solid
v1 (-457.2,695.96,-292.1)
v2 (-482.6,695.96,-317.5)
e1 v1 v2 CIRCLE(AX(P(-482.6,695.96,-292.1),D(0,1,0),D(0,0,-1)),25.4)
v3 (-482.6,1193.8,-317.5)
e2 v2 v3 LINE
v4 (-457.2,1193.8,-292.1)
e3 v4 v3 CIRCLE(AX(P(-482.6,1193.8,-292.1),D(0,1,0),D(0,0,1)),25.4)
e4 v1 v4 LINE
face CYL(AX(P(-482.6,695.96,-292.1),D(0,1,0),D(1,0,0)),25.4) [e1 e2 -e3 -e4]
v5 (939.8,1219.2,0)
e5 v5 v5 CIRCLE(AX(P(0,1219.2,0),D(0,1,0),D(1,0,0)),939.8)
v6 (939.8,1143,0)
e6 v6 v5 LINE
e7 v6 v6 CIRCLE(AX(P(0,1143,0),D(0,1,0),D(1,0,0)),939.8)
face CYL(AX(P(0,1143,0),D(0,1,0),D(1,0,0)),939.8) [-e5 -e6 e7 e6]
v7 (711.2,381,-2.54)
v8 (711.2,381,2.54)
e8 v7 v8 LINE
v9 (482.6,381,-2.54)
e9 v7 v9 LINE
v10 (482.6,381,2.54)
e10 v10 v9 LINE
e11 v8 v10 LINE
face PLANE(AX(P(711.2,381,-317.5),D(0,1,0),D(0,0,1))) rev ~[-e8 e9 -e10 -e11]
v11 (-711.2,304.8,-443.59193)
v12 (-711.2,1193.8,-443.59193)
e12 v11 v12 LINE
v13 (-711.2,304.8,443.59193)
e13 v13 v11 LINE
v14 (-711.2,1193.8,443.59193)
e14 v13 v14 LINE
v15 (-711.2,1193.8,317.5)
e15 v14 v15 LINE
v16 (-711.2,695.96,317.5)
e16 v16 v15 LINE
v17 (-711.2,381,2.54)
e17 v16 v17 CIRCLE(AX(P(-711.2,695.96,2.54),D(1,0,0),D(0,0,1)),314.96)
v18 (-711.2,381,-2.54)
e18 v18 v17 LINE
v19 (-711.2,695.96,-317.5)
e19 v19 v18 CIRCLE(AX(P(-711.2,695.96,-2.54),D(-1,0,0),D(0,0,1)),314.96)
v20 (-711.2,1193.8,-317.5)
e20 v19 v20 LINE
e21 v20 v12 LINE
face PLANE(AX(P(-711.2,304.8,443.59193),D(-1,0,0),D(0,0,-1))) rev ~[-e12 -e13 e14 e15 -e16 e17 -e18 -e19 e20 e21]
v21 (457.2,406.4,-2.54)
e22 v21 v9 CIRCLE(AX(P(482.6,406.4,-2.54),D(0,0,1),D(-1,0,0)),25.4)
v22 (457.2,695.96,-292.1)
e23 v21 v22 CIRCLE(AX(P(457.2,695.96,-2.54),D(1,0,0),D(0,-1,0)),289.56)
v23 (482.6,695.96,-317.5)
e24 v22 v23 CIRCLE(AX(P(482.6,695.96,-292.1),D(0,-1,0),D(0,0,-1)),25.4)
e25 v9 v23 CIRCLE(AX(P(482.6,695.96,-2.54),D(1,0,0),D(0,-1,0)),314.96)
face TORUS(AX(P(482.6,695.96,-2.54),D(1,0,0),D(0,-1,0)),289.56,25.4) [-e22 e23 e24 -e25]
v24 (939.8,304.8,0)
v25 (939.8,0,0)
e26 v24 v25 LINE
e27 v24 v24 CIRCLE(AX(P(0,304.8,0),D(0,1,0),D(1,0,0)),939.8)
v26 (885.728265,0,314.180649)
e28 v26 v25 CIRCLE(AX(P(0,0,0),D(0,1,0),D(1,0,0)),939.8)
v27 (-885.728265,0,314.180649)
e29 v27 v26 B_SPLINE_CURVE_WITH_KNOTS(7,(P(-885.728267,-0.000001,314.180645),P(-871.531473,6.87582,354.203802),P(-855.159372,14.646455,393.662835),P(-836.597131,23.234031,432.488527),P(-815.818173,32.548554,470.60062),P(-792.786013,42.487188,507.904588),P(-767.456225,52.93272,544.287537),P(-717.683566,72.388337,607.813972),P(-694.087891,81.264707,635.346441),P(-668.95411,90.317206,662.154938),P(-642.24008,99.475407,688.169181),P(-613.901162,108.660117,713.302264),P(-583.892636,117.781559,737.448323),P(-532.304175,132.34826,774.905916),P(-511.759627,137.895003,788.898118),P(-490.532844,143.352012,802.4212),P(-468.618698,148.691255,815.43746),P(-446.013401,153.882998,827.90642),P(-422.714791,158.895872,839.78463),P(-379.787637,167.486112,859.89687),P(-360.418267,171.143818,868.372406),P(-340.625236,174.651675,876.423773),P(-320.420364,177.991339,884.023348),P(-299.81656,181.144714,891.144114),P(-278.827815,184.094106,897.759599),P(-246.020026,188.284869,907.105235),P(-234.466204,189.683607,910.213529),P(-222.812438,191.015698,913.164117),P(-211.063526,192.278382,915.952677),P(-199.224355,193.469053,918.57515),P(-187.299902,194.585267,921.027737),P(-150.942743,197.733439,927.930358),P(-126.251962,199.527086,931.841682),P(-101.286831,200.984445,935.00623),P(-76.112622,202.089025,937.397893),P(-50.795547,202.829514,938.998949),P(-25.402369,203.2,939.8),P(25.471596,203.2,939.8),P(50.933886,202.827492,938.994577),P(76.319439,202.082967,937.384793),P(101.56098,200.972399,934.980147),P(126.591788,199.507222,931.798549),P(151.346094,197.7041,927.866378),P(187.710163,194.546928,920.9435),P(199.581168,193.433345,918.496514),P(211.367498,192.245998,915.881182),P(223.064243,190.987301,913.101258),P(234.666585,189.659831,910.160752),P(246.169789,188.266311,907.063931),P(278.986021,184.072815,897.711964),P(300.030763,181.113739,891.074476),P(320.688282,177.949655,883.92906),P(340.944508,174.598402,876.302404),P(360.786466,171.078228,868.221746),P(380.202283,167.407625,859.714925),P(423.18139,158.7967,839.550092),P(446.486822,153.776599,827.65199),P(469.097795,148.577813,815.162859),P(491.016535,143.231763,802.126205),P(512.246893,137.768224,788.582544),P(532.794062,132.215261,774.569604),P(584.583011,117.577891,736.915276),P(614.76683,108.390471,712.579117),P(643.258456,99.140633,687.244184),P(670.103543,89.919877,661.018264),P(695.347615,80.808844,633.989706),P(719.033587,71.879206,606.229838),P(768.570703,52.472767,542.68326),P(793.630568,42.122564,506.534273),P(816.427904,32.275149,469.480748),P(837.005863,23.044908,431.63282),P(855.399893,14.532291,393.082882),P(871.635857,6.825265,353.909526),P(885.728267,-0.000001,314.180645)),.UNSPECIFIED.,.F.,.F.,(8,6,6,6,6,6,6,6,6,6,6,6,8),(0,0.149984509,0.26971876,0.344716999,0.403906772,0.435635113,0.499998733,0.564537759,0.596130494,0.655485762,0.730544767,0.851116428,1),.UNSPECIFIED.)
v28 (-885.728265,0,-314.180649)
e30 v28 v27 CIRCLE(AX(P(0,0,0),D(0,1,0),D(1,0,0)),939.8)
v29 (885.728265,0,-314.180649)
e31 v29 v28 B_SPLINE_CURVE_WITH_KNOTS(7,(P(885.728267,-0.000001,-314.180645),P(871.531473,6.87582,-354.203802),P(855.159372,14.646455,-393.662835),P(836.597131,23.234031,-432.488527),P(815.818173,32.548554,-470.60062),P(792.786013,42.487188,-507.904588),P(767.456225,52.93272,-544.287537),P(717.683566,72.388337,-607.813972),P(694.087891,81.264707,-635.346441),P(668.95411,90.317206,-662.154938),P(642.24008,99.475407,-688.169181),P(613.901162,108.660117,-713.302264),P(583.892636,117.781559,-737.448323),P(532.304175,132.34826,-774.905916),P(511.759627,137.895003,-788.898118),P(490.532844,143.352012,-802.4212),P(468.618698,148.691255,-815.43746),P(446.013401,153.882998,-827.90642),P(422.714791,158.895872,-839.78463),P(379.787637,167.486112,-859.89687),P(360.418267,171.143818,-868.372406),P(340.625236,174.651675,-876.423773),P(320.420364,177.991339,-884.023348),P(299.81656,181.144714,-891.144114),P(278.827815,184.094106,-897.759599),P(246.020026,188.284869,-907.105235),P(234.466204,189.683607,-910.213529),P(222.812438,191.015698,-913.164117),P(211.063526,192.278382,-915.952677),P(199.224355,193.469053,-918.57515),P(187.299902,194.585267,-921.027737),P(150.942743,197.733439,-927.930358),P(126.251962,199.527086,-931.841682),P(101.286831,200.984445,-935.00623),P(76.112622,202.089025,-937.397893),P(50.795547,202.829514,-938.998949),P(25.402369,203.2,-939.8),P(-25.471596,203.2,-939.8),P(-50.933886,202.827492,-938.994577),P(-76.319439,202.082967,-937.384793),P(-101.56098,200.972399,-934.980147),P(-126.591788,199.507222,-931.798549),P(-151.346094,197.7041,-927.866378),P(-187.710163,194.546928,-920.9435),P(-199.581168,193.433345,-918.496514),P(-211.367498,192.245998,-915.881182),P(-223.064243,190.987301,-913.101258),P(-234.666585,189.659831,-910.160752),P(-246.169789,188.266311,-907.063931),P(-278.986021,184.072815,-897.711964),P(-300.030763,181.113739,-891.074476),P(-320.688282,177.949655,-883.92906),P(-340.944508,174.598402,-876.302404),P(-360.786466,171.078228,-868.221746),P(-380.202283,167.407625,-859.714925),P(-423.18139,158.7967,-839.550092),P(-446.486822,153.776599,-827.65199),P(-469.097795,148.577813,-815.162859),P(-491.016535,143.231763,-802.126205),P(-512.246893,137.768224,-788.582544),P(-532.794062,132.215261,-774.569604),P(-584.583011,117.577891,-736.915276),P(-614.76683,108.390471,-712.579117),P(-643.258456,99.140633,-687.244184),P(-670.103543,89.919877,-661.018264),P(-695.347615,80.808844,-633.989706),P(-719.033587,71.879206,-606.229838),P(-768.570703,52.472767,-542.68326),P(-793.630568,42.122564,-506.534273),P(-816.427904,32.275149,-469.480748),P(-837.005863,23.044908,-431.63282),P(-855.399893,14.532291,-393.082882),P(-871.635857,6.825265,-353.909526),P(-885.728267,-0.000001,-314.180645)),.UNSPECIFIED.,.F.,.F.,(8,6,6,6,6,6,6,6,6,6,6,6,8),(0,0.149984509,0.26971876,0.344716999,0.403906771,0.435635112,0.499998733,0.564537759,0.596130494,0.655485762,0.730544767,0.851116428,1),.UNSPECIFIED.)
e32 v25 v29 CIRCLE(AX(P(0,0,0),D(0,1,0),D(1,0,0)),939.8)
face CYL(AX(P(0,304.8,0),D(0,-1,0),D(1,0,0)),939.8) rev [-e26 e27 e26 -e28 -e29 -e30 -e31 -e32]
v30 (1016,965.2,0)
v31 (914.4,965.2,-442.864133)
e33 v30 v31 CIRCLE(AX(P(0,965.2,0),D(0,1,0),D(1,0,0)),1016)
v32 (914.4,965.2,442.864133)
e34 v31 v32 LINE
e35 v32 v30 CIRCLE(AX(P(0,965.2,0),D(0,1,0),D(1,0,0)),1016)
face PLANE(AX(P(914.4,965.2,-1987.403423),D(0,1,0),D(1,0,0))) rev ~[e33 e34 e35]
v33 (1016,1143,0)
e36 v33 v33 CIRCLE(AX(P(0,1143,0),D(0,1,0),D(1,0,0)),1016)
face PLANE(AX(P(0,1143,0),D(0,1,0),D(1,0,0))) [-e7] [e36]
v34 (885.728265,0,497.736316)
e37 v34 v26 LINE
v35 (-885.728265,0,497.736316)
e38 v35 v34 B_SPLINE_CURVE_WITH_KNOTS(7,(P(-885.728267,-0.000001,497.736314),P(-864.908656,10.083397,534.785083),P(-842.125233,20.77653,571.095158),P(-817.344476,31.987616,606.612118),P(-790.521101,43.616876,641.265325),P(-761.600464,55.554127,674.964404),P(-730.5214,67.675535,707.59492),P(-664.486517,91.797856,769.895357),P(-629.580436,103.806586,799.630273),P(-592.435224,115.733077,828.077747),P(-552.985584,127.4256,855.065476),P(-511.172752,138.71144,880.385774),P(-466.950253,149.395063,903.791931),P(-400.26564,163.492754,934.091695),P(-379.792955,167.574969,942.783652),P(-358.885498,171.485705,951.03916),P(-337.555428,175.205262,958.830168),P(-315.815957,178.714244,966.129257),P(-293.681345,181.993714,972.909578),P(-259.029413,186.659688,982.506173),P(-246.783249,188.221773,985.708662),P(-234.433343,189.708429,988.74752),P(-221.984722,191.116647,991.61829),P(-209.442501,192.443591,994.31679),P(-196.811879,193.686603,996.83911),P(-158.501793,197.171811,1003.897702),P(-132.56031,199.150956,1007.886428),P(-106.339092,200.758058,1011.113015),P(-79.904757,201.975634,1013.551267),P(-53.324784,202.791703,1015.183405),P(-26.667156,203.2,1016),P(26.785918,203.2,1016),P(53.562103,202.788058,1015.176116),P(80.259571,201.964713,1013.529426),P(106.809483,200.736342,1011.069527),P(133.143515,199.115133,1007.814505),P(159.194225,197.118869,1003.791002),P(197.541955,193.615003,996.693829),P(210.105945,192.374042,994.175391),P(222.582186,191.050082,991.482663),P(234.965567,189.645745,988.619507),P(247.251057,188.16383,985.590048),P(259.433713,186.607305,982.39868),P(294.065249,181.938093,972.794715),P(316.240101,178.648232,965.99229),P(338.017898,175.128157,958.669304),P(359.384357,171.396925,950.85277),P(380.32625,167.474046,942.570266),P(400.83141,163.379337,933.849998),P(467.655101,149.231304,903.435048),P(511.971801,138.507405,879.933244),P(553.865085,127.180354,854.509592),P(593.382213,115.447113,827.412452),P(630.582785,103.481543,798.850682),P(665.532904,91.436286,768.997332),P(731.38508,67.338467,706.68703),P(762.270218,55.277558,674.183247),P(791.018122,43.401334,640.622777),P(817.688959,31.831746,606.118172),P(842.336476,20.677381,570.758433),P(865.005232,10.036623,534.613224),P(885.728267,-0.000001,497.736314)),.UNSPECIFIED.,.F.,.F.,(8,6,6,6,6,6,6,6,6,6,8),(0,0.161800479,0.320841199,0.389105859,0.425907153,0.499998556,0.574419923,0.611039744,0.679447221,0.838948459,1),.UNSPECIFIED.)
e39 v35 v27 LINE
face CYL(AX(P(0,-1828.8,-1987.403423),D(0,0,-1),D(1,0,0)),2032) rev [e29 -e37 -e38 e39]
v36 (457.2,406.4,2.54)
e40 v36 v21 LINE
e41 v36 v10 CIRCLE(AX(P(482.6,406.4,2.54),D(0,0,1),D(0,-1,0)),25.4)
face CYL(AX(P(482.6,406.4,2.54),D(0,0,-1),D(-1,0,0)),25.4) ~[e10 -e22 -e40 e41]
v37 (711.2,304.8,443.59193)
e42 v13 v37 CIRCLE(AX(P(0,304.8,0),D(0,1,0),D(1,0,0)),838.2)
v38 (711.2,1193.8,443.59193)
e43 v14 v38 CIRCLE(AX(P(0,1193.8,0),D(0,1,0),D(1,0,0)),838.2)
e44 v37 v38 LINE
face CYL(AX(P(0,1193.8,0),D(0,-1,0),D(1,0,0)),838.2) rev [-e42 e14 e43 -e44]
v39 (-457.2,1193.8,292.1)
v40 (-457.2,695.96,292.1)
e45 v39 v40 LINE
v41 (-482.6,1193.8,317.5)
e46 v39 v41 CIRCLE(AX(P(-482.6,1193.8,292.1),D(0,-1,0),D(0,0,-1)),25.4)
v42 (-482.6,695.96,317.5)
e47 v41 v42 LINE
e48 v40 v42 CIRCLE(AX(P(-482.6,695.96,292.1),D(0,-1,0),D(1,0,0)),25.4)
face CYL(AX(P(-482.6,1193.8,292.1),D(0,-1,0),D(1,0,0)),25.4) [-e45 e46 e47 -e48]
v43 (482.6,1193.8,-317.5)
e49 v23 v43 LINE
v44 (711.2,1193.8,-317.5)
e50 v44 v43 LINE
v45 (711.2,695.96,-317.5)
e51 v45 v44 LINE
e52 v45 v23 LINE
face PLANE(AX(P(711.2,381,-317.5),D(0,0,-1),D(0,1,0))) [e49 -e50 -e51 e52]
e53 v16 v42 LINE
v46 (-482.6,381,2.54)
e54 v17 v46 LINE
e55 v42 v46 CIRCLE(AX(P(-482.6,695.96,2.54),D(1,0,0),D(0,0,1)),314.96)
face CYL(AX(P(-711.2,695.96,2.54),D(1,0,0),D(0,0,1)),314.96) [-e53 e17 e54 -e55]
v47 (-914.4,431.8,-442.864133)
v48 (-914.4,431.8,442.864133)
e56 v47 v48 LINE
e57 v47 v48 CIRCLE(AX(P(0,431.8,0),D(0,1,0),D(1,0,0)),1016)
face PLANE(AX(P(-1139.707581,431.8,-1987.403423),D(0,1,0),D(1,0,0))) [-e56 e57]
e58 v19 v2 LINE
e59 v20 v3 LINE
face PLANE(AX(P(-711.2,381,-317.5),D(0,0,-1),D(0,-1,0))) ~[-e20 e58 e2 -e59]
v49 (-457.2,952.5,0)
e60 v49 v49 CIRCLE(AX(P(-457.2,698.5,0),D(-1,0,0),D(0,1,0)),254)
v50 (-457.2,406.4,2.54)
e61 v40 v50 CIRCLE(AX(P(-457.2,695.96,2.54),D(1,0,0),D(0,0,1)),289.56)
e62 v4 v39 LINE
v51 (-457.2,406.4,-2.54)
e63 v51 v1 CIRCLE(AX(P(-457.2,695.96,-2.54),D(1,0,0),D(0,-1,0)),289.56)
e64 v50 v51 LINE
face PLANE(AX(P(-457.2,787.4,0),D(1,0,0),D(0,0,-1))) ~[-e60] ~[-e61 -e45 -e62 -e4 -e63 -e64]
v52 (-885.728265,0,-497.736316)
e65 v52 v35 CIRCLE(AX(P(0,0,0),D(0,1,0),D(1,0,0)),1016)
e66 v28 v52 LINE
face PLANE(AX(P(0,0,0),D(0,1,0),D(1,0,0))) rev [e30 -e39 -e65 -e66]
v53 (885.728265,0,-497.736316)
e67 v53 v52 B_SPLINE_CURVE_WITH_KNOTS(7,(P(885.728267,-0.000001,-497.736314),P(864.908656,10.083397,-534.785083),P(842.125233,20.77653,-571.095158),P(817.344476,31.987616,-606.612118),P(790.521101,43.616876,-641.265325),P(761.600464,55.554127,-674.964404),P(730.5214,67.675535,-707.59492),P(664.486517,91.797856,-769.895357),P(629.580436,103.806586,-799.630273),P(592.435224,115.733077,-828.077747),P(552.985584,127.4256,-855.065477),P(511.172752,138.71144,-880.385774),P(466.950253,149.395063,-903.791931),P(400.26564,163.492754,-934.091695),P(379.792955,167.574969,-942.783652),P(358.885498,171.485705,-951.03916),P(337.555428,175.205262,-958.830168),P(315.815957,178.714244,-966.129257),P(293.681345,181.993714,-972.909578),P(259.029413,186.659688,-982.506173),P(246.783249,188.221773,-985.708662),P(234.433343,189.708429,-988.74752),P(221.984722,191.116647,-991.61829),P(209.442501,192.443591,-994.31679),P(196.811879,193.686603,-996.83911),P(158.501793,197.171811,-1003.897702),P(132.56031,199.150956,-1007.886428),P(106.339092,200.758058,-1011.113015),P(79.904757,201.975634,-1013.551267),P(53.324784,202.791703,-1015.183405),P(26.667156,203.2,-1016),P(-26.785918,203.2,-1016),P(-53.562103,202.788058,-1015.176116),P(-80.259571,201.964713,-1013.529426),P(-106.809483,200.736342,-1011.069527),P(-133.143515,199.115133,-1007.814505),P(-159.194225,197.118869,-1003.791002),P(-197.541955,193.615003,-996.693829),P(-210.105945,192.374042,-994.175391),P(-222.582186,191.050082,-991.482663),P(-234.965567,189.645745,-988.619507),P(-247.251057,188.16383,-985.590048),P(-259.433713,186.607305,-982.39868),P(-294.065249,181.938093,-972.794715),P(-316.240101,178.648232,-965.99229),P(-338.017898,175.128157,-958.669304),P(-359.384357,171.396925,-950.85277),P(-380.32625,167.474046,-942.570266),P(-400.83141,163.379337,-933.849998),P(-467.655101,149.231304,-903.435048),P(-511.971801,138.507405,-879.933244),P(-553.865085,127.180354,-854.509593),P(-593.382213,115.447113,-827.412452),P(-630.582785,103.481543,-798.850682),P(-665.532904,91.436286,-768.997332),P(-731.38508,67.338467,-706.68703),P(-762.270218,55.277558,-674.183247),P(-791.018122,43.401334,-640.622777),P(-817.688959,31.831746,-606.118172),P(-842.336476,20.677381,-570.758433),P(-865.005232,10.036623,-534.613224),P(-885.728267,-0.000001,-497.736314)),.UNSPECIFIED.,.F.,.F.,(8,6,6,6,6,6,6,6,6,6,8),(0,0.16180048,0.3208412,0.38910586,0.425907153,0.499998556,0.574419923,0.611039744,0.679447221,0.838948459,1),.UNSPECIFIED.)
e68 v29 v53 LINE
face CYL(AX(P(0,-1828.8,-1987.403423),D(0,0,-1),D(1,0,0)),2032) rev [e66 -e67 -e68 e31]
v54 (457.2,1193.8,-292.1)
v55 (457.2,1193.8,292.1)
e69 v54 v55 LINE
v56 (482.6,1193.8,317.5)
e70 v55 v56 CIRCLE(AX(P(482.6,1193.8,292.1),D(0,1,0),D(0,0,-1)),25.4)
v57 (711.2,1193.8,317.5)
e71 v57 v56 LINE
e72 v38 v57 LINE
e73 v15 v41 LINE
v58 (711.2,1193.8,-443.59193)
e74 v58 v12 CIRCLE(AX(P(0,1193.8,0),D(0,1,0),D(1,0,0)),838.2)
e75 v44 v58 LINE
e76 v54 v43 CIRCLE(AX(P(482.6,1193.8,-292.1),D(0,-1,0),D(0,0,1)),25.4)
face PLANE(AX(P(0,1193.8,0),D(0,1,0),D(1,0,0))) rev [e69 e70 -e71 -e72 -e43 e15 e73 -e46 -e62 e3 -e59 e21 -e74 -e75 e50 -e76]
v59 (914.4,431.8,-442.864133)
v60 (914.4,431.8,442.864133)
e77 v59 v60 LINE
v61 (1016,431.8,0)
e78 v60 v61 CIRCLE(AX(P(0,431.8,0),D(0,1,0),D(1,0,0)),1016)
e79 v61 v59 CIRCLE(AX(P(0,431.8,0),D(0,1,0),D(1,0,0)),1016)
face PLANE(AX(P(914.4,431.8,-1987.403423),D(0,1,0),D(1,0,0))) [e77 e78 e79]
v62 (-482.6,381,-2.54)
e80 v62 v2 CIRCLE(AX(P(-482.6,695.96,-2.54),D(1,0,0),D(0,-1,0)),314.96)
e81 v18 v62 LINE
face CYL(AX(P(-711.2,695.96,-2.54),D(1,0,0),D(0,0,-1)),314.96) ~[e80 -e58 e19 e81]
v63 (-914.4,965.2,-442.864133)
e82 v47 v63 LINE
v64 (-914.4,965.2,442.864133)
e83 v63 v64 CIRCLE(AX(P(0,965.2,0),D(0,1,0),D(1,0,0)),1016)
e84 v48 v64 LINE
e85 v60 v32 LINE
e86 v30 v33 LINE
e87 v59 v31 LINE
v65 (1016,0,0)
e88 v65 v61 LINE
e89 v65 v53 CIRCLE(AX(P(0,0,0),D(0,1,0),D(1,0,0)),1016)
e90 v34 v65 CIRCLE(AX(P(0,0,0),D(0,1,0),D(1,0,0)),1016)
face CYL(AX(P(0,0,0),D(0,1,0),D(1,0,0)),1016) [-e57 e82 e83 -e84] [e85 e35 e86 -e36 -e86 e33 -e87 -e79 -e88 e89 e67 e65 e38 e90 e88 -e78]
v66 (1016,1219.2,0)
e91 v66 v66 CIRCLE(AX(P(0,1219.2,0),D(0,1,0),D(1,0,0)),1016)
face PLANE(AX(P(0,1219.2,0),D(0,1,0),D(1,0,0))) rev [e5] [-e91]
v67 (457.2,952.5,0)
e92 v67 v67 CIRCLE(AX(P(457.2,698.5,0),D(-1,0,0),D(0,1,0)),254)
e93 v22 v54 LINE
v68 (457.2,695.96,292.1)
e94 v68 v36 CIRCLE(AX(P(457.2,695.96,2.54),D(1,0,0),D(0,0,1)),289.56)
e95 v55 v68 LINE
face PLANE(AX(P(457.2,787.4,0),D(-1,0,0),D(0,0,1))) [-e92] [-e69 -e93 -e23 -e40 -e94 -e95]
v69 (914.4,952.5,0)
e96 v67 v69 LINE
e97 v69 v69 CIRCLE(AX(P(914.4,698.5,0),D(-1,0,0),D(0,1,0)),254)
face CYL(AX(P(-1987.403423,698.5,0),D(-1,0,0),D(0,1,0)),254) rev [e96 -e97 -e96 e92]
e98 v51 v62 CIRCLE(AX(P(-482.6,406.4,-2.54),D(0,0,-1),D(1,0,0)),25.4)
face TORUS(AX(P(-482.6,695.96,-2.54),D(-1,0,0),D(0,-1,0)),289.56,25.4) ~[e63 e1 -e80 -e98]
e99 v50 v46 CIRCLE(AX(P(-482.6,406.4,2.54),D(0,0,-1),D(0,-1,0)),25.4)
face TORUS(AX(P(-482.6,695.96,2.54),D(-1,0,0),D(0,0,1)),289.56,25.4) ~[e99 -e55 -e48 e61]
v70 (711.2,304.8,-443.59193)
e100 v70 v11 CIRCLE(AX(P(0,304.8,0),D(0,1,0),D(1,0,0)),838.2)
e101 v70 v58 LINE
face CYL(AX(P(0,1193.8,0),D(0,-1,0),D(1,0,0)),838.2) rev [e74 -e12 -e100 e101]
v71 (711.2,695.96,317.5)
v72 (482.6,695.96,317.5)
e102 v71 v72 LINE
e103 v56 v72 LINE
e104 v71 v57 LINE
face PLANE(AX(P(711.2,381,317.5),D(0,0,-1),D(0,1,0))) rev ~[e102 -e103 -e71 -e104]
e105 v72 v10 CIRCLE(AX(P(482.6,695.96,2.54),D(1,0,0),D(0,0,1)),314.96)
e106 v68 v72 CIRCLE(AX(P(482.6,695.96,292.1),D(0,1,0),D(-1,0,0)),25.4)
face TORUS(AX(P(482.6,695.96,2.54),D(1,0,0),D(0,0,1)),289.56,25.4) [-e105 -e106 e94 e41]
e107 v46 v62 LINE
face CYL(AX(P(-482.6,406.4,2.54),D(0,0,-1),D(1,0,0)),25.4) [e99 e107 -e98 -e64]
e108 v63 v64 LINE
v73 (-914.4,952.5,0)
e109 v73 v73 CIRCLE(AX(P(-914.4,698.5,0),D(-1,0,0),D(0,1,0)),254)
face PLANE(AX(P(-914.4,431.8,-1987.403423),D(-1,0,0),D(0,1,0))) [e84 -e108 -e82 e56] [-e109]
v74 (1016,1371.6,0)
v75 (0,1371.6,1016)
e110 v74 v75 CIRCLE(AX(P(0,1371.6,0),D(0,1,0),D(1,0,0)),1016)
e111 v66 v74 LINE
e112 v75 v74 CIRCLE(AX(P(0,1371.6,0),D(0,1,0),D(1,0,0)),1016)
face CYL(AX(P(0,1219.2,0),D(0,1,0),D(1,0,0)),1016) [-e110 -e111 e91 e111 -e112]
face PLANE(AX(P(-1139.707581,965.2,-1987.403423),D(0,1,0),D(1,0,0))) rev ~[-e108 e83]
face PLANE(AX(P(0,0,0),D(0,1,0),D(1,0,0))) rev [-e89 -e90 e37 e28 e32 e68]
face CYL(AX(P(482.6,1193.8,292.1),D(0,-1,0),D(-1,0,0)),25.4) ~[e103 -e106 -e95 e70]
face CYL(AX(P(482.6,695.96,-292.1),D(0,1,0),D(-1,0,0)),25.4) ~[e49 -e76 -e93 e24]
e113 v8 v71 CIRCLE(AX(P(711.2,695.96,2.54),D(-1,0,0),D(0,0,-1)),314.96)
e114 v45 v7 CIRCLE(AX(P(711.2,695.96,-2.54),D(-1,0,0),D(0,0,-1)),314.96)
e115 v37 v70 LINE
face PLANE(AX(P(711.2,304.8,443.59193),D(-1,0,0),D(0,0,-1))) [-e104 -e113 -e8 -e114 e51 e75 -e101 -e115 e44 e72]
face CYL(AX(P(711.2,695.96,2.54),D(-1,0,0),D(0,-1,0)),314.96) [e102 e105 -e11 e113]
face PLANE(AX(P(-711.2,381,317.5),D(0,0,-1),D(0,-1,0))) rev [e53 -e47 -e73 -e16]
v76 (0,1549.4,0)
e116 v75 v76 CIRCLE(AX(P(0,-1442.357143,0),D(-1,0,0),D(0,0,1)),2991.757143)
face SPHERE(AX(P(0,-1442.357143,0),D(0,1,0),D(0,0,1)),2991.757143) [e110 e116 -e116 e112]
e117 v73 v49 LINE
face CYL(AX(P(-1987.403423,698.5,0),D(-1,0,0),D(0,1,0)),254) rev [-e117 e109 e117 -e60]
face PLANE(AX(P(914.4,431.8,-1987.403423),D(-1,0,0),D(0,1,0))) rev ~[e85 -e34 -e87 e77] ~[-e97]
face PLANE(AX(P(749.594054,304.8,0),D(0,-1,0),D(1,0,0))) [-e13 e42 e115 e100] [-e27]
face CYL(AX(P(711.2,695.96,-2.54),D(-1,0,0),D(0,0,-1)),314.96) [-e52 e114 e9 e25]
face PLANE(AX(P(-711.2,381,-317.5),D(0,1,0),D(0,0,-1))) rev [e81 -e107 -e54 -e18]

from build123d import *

# Parameters (mm, degrees)
CUT_EXTRUDE1_DEPTH      = 1987.403423275
CUT_EXTRUDE1_DEPTH_BACK = 1987.403423275
SKETCH2_W               = 225.307580662
SKETCH2_H               = 533.4
BOSS_EXTRUDE1_START     = 889
BOSS_EXTRUDE1_DEPTH     = 889
SKETCH4_W               = 635
SKETCH4_H               = 812.8
BOSS_EXTRUDE2_DEPTH     = 254
FILLET1_R               = 314.96
FILLET1_OF_MIRROR1_R    = 314.96
CUT_EXTRUDE2_DEPTH      = 1987.403423275
CUT_EXTRUDE2_DEPTH_BACK = 1987.403423275
SKETCH5_R               = 254
CUT_EXTRUDE3_DEPTH      = 1987.403423275
CUT_EXTRUDE3_DEPTH_BACK = 1987.403423275
SKETCH6_R               = 2032
DOME1_FACE_RADIUS       = 1016
DOME1_HEIGHT            = 177.8
FILLET2_R               = 25.4


with BuildPart() as part:
    # Sketch1 → Revolve1 (revolve)
    with BuildSketch(Plane.XY):
        Polygon((1016, 0), (1016, 1143), (939.8, 1143), (939.8, 1219.2), (1016, 1219.2), (1016, 1371.6), (0, 1371.6), (0, 1193.8), (838.2, 1193.8), (838.2, 304.8), (939.8, 304.8), (939.8, 0), align=None)
    revolve(axis=Axis((0, 0, 0), (0, 1, 0)))

    # Sketch2 → Cut-Extrude1 (cut, two sides: drawn at the far end of the back side and taken through both)
    with BuildSketch(Plane.XY.offset(-CUT_EXTRUDE1_DEPTH_BACK)):
        with Locations((-1027.053790331, 698.5)):
            Rectangle(SKETCH2_W, SKETCH2_H)
        with Locations((1027.053790331, 698.5)):
            Rectangle(SKETCH2_W, SKETCH2_H)
    extrude(amount=CUT_EXTRUDE1_DEPTH + CUT_EXTRUDE1_DEPTH_BACK, mode=Mode.SUBTRACT)

    # Sketch3 → Boss-Extrude1 (add)
    with BuildSketch(Plane.XZ.offset(-1193.8).offset(BOSS_EXTRUDE1_START)):
        with BuildLine():
            Line((-711.2, 443.591929593), (-711.2, -443.591929593))
            ThreePointArc((-711.2, -443.591929593), (-838.2, 0), (-711.2, 443.591929593))
        make_face()
        with BuildLine():
            Line((711.2, 443.591929593), (711.2, -443.591929593))
            ThreePointArc((711.2, -443.591929593), (838.2, 0), (711.2, 443.591929593))
        make_face()
    extrude(amount=-BOSS_EXTRUDE1_DEPTH)

    # Sketch4 → Boss-Extrude2 (add)
    with BuildSketch(Plane.ZY.offset(-711.2)):
        with Locations((0, 787.4)):
            Rectangle(SKETCH4_W, SKETCH4_H)
    boss_extrude2 = extrude(amount=BOSS_EXTRUDE2_DEPTH)

    # Fillet1
    fillet1_edges = [part.edges().sort_by_distance(p)[0] for p in [
        (584.2, 381, 317.5),
        (584.2, 381, -317.5),
    ]]
    fillet(fillet1_edges, radius=FILLET1_R)

    # Mirror1: Boss-Extrude2 across plane
    add(boss_extrude2.mirror(Plane(origin=(0, 0, 0), x_dir=(0, 0, 1), z_dir=(1, 0, 0))))

    # Fillet1 of Mirror1
    fillet1_of_mirror1_edges = [part.edges().sort_by_distance(p)[0] for p in [
        (-584.2, 381, 317.5),
        (-584.2, 381, -317.5),
    ]]
    fillet(fillet1_of_mirror1_edges, radius=FILLET1_OF_MIRROR1_R)

    # Sketch5 → Cut-Extrude2 (cut, two sides: drawn at the far end of the back side and taken through both)
    with BuildSketch(Plane(origin=(0, 0, 0), x_dir=(0, 0, -1), z_dir=(1, 0, 0)).offset(-CUT_EXTRUDE2_DEPTH_BACK)):
        with Locations(Location((0, 698.5, 0), (0, 0, 90))):
            Circle(SKETCH5_R)
    extrude(amount=CUT_EXTRUDE2_DEPTH + CUT_EXTRUDE2_DEPTH_BACK, mode=Mode.SUBTRACT)

    # Sketch6 → Cut-Extrude3 (cut, two sides: drawn at the far end of the back side and taken through both)
    with BuildSketch(Plane.XY.offset(-CUT_EXTRUDE3_DEPTH_BACK)):
        with Locations((0, -1828.8)):
            Circle(SKETCH6_R)
    extrude(amount=CUT_EXTRUDE3_DEPTH + CUT_EXTRUDE3_DEPTH_BACK, mode=Mode.SUBTRACT)

    # Dome1: a dome of height H over a round flat face of radius A is a cap of a sphere of radius (A * A + H * H) / (2 * H)
    dome1_r = (DOME1_FACE_RADIUS * DOME1_FACE_RADIUS + DOME1_HEIGHT * DOME1_HEIGHT) / (2 * DOME1_HEIGHT)
    dome1_base = Plane((0, 1371.6, 0), z_dir=(0, 1, 0))
    with Locations(dome1_base.offset(DOME1_HEIGHT - dome1_r)):
        dome1_ball = Sphere(dome1_r, mode=Mode.PRIVATE)
    add(split(dome1_ball, bisect_by=dome1_base, keep=Keep.TOP, mode=Mode.PRIVATE))

    # Fillet2
    fillet2_edges = [part.edges().sort_by_distance(p)[0] for p in [
        (457.2, 944.88, -317.5),
        (457.2, 944.88, 317.5),
        (457.2, 381, 0),
        (457.2, 473.249648197, -225.250351803),
        (457.2, 473.249648197, 225.250351803),
        (-457.2, 944.88, -317.5),
        (-457.2, 381, 0),
        (-457.2, 944.88, 317.5),
        (-457.2, 473.249648197, -225.250351803),
        (-457.2, 473.249648197, 225.250351803),
    ]]
    fillet(fillet2_edges, radius=FILLET2_R)


solid = part.part
